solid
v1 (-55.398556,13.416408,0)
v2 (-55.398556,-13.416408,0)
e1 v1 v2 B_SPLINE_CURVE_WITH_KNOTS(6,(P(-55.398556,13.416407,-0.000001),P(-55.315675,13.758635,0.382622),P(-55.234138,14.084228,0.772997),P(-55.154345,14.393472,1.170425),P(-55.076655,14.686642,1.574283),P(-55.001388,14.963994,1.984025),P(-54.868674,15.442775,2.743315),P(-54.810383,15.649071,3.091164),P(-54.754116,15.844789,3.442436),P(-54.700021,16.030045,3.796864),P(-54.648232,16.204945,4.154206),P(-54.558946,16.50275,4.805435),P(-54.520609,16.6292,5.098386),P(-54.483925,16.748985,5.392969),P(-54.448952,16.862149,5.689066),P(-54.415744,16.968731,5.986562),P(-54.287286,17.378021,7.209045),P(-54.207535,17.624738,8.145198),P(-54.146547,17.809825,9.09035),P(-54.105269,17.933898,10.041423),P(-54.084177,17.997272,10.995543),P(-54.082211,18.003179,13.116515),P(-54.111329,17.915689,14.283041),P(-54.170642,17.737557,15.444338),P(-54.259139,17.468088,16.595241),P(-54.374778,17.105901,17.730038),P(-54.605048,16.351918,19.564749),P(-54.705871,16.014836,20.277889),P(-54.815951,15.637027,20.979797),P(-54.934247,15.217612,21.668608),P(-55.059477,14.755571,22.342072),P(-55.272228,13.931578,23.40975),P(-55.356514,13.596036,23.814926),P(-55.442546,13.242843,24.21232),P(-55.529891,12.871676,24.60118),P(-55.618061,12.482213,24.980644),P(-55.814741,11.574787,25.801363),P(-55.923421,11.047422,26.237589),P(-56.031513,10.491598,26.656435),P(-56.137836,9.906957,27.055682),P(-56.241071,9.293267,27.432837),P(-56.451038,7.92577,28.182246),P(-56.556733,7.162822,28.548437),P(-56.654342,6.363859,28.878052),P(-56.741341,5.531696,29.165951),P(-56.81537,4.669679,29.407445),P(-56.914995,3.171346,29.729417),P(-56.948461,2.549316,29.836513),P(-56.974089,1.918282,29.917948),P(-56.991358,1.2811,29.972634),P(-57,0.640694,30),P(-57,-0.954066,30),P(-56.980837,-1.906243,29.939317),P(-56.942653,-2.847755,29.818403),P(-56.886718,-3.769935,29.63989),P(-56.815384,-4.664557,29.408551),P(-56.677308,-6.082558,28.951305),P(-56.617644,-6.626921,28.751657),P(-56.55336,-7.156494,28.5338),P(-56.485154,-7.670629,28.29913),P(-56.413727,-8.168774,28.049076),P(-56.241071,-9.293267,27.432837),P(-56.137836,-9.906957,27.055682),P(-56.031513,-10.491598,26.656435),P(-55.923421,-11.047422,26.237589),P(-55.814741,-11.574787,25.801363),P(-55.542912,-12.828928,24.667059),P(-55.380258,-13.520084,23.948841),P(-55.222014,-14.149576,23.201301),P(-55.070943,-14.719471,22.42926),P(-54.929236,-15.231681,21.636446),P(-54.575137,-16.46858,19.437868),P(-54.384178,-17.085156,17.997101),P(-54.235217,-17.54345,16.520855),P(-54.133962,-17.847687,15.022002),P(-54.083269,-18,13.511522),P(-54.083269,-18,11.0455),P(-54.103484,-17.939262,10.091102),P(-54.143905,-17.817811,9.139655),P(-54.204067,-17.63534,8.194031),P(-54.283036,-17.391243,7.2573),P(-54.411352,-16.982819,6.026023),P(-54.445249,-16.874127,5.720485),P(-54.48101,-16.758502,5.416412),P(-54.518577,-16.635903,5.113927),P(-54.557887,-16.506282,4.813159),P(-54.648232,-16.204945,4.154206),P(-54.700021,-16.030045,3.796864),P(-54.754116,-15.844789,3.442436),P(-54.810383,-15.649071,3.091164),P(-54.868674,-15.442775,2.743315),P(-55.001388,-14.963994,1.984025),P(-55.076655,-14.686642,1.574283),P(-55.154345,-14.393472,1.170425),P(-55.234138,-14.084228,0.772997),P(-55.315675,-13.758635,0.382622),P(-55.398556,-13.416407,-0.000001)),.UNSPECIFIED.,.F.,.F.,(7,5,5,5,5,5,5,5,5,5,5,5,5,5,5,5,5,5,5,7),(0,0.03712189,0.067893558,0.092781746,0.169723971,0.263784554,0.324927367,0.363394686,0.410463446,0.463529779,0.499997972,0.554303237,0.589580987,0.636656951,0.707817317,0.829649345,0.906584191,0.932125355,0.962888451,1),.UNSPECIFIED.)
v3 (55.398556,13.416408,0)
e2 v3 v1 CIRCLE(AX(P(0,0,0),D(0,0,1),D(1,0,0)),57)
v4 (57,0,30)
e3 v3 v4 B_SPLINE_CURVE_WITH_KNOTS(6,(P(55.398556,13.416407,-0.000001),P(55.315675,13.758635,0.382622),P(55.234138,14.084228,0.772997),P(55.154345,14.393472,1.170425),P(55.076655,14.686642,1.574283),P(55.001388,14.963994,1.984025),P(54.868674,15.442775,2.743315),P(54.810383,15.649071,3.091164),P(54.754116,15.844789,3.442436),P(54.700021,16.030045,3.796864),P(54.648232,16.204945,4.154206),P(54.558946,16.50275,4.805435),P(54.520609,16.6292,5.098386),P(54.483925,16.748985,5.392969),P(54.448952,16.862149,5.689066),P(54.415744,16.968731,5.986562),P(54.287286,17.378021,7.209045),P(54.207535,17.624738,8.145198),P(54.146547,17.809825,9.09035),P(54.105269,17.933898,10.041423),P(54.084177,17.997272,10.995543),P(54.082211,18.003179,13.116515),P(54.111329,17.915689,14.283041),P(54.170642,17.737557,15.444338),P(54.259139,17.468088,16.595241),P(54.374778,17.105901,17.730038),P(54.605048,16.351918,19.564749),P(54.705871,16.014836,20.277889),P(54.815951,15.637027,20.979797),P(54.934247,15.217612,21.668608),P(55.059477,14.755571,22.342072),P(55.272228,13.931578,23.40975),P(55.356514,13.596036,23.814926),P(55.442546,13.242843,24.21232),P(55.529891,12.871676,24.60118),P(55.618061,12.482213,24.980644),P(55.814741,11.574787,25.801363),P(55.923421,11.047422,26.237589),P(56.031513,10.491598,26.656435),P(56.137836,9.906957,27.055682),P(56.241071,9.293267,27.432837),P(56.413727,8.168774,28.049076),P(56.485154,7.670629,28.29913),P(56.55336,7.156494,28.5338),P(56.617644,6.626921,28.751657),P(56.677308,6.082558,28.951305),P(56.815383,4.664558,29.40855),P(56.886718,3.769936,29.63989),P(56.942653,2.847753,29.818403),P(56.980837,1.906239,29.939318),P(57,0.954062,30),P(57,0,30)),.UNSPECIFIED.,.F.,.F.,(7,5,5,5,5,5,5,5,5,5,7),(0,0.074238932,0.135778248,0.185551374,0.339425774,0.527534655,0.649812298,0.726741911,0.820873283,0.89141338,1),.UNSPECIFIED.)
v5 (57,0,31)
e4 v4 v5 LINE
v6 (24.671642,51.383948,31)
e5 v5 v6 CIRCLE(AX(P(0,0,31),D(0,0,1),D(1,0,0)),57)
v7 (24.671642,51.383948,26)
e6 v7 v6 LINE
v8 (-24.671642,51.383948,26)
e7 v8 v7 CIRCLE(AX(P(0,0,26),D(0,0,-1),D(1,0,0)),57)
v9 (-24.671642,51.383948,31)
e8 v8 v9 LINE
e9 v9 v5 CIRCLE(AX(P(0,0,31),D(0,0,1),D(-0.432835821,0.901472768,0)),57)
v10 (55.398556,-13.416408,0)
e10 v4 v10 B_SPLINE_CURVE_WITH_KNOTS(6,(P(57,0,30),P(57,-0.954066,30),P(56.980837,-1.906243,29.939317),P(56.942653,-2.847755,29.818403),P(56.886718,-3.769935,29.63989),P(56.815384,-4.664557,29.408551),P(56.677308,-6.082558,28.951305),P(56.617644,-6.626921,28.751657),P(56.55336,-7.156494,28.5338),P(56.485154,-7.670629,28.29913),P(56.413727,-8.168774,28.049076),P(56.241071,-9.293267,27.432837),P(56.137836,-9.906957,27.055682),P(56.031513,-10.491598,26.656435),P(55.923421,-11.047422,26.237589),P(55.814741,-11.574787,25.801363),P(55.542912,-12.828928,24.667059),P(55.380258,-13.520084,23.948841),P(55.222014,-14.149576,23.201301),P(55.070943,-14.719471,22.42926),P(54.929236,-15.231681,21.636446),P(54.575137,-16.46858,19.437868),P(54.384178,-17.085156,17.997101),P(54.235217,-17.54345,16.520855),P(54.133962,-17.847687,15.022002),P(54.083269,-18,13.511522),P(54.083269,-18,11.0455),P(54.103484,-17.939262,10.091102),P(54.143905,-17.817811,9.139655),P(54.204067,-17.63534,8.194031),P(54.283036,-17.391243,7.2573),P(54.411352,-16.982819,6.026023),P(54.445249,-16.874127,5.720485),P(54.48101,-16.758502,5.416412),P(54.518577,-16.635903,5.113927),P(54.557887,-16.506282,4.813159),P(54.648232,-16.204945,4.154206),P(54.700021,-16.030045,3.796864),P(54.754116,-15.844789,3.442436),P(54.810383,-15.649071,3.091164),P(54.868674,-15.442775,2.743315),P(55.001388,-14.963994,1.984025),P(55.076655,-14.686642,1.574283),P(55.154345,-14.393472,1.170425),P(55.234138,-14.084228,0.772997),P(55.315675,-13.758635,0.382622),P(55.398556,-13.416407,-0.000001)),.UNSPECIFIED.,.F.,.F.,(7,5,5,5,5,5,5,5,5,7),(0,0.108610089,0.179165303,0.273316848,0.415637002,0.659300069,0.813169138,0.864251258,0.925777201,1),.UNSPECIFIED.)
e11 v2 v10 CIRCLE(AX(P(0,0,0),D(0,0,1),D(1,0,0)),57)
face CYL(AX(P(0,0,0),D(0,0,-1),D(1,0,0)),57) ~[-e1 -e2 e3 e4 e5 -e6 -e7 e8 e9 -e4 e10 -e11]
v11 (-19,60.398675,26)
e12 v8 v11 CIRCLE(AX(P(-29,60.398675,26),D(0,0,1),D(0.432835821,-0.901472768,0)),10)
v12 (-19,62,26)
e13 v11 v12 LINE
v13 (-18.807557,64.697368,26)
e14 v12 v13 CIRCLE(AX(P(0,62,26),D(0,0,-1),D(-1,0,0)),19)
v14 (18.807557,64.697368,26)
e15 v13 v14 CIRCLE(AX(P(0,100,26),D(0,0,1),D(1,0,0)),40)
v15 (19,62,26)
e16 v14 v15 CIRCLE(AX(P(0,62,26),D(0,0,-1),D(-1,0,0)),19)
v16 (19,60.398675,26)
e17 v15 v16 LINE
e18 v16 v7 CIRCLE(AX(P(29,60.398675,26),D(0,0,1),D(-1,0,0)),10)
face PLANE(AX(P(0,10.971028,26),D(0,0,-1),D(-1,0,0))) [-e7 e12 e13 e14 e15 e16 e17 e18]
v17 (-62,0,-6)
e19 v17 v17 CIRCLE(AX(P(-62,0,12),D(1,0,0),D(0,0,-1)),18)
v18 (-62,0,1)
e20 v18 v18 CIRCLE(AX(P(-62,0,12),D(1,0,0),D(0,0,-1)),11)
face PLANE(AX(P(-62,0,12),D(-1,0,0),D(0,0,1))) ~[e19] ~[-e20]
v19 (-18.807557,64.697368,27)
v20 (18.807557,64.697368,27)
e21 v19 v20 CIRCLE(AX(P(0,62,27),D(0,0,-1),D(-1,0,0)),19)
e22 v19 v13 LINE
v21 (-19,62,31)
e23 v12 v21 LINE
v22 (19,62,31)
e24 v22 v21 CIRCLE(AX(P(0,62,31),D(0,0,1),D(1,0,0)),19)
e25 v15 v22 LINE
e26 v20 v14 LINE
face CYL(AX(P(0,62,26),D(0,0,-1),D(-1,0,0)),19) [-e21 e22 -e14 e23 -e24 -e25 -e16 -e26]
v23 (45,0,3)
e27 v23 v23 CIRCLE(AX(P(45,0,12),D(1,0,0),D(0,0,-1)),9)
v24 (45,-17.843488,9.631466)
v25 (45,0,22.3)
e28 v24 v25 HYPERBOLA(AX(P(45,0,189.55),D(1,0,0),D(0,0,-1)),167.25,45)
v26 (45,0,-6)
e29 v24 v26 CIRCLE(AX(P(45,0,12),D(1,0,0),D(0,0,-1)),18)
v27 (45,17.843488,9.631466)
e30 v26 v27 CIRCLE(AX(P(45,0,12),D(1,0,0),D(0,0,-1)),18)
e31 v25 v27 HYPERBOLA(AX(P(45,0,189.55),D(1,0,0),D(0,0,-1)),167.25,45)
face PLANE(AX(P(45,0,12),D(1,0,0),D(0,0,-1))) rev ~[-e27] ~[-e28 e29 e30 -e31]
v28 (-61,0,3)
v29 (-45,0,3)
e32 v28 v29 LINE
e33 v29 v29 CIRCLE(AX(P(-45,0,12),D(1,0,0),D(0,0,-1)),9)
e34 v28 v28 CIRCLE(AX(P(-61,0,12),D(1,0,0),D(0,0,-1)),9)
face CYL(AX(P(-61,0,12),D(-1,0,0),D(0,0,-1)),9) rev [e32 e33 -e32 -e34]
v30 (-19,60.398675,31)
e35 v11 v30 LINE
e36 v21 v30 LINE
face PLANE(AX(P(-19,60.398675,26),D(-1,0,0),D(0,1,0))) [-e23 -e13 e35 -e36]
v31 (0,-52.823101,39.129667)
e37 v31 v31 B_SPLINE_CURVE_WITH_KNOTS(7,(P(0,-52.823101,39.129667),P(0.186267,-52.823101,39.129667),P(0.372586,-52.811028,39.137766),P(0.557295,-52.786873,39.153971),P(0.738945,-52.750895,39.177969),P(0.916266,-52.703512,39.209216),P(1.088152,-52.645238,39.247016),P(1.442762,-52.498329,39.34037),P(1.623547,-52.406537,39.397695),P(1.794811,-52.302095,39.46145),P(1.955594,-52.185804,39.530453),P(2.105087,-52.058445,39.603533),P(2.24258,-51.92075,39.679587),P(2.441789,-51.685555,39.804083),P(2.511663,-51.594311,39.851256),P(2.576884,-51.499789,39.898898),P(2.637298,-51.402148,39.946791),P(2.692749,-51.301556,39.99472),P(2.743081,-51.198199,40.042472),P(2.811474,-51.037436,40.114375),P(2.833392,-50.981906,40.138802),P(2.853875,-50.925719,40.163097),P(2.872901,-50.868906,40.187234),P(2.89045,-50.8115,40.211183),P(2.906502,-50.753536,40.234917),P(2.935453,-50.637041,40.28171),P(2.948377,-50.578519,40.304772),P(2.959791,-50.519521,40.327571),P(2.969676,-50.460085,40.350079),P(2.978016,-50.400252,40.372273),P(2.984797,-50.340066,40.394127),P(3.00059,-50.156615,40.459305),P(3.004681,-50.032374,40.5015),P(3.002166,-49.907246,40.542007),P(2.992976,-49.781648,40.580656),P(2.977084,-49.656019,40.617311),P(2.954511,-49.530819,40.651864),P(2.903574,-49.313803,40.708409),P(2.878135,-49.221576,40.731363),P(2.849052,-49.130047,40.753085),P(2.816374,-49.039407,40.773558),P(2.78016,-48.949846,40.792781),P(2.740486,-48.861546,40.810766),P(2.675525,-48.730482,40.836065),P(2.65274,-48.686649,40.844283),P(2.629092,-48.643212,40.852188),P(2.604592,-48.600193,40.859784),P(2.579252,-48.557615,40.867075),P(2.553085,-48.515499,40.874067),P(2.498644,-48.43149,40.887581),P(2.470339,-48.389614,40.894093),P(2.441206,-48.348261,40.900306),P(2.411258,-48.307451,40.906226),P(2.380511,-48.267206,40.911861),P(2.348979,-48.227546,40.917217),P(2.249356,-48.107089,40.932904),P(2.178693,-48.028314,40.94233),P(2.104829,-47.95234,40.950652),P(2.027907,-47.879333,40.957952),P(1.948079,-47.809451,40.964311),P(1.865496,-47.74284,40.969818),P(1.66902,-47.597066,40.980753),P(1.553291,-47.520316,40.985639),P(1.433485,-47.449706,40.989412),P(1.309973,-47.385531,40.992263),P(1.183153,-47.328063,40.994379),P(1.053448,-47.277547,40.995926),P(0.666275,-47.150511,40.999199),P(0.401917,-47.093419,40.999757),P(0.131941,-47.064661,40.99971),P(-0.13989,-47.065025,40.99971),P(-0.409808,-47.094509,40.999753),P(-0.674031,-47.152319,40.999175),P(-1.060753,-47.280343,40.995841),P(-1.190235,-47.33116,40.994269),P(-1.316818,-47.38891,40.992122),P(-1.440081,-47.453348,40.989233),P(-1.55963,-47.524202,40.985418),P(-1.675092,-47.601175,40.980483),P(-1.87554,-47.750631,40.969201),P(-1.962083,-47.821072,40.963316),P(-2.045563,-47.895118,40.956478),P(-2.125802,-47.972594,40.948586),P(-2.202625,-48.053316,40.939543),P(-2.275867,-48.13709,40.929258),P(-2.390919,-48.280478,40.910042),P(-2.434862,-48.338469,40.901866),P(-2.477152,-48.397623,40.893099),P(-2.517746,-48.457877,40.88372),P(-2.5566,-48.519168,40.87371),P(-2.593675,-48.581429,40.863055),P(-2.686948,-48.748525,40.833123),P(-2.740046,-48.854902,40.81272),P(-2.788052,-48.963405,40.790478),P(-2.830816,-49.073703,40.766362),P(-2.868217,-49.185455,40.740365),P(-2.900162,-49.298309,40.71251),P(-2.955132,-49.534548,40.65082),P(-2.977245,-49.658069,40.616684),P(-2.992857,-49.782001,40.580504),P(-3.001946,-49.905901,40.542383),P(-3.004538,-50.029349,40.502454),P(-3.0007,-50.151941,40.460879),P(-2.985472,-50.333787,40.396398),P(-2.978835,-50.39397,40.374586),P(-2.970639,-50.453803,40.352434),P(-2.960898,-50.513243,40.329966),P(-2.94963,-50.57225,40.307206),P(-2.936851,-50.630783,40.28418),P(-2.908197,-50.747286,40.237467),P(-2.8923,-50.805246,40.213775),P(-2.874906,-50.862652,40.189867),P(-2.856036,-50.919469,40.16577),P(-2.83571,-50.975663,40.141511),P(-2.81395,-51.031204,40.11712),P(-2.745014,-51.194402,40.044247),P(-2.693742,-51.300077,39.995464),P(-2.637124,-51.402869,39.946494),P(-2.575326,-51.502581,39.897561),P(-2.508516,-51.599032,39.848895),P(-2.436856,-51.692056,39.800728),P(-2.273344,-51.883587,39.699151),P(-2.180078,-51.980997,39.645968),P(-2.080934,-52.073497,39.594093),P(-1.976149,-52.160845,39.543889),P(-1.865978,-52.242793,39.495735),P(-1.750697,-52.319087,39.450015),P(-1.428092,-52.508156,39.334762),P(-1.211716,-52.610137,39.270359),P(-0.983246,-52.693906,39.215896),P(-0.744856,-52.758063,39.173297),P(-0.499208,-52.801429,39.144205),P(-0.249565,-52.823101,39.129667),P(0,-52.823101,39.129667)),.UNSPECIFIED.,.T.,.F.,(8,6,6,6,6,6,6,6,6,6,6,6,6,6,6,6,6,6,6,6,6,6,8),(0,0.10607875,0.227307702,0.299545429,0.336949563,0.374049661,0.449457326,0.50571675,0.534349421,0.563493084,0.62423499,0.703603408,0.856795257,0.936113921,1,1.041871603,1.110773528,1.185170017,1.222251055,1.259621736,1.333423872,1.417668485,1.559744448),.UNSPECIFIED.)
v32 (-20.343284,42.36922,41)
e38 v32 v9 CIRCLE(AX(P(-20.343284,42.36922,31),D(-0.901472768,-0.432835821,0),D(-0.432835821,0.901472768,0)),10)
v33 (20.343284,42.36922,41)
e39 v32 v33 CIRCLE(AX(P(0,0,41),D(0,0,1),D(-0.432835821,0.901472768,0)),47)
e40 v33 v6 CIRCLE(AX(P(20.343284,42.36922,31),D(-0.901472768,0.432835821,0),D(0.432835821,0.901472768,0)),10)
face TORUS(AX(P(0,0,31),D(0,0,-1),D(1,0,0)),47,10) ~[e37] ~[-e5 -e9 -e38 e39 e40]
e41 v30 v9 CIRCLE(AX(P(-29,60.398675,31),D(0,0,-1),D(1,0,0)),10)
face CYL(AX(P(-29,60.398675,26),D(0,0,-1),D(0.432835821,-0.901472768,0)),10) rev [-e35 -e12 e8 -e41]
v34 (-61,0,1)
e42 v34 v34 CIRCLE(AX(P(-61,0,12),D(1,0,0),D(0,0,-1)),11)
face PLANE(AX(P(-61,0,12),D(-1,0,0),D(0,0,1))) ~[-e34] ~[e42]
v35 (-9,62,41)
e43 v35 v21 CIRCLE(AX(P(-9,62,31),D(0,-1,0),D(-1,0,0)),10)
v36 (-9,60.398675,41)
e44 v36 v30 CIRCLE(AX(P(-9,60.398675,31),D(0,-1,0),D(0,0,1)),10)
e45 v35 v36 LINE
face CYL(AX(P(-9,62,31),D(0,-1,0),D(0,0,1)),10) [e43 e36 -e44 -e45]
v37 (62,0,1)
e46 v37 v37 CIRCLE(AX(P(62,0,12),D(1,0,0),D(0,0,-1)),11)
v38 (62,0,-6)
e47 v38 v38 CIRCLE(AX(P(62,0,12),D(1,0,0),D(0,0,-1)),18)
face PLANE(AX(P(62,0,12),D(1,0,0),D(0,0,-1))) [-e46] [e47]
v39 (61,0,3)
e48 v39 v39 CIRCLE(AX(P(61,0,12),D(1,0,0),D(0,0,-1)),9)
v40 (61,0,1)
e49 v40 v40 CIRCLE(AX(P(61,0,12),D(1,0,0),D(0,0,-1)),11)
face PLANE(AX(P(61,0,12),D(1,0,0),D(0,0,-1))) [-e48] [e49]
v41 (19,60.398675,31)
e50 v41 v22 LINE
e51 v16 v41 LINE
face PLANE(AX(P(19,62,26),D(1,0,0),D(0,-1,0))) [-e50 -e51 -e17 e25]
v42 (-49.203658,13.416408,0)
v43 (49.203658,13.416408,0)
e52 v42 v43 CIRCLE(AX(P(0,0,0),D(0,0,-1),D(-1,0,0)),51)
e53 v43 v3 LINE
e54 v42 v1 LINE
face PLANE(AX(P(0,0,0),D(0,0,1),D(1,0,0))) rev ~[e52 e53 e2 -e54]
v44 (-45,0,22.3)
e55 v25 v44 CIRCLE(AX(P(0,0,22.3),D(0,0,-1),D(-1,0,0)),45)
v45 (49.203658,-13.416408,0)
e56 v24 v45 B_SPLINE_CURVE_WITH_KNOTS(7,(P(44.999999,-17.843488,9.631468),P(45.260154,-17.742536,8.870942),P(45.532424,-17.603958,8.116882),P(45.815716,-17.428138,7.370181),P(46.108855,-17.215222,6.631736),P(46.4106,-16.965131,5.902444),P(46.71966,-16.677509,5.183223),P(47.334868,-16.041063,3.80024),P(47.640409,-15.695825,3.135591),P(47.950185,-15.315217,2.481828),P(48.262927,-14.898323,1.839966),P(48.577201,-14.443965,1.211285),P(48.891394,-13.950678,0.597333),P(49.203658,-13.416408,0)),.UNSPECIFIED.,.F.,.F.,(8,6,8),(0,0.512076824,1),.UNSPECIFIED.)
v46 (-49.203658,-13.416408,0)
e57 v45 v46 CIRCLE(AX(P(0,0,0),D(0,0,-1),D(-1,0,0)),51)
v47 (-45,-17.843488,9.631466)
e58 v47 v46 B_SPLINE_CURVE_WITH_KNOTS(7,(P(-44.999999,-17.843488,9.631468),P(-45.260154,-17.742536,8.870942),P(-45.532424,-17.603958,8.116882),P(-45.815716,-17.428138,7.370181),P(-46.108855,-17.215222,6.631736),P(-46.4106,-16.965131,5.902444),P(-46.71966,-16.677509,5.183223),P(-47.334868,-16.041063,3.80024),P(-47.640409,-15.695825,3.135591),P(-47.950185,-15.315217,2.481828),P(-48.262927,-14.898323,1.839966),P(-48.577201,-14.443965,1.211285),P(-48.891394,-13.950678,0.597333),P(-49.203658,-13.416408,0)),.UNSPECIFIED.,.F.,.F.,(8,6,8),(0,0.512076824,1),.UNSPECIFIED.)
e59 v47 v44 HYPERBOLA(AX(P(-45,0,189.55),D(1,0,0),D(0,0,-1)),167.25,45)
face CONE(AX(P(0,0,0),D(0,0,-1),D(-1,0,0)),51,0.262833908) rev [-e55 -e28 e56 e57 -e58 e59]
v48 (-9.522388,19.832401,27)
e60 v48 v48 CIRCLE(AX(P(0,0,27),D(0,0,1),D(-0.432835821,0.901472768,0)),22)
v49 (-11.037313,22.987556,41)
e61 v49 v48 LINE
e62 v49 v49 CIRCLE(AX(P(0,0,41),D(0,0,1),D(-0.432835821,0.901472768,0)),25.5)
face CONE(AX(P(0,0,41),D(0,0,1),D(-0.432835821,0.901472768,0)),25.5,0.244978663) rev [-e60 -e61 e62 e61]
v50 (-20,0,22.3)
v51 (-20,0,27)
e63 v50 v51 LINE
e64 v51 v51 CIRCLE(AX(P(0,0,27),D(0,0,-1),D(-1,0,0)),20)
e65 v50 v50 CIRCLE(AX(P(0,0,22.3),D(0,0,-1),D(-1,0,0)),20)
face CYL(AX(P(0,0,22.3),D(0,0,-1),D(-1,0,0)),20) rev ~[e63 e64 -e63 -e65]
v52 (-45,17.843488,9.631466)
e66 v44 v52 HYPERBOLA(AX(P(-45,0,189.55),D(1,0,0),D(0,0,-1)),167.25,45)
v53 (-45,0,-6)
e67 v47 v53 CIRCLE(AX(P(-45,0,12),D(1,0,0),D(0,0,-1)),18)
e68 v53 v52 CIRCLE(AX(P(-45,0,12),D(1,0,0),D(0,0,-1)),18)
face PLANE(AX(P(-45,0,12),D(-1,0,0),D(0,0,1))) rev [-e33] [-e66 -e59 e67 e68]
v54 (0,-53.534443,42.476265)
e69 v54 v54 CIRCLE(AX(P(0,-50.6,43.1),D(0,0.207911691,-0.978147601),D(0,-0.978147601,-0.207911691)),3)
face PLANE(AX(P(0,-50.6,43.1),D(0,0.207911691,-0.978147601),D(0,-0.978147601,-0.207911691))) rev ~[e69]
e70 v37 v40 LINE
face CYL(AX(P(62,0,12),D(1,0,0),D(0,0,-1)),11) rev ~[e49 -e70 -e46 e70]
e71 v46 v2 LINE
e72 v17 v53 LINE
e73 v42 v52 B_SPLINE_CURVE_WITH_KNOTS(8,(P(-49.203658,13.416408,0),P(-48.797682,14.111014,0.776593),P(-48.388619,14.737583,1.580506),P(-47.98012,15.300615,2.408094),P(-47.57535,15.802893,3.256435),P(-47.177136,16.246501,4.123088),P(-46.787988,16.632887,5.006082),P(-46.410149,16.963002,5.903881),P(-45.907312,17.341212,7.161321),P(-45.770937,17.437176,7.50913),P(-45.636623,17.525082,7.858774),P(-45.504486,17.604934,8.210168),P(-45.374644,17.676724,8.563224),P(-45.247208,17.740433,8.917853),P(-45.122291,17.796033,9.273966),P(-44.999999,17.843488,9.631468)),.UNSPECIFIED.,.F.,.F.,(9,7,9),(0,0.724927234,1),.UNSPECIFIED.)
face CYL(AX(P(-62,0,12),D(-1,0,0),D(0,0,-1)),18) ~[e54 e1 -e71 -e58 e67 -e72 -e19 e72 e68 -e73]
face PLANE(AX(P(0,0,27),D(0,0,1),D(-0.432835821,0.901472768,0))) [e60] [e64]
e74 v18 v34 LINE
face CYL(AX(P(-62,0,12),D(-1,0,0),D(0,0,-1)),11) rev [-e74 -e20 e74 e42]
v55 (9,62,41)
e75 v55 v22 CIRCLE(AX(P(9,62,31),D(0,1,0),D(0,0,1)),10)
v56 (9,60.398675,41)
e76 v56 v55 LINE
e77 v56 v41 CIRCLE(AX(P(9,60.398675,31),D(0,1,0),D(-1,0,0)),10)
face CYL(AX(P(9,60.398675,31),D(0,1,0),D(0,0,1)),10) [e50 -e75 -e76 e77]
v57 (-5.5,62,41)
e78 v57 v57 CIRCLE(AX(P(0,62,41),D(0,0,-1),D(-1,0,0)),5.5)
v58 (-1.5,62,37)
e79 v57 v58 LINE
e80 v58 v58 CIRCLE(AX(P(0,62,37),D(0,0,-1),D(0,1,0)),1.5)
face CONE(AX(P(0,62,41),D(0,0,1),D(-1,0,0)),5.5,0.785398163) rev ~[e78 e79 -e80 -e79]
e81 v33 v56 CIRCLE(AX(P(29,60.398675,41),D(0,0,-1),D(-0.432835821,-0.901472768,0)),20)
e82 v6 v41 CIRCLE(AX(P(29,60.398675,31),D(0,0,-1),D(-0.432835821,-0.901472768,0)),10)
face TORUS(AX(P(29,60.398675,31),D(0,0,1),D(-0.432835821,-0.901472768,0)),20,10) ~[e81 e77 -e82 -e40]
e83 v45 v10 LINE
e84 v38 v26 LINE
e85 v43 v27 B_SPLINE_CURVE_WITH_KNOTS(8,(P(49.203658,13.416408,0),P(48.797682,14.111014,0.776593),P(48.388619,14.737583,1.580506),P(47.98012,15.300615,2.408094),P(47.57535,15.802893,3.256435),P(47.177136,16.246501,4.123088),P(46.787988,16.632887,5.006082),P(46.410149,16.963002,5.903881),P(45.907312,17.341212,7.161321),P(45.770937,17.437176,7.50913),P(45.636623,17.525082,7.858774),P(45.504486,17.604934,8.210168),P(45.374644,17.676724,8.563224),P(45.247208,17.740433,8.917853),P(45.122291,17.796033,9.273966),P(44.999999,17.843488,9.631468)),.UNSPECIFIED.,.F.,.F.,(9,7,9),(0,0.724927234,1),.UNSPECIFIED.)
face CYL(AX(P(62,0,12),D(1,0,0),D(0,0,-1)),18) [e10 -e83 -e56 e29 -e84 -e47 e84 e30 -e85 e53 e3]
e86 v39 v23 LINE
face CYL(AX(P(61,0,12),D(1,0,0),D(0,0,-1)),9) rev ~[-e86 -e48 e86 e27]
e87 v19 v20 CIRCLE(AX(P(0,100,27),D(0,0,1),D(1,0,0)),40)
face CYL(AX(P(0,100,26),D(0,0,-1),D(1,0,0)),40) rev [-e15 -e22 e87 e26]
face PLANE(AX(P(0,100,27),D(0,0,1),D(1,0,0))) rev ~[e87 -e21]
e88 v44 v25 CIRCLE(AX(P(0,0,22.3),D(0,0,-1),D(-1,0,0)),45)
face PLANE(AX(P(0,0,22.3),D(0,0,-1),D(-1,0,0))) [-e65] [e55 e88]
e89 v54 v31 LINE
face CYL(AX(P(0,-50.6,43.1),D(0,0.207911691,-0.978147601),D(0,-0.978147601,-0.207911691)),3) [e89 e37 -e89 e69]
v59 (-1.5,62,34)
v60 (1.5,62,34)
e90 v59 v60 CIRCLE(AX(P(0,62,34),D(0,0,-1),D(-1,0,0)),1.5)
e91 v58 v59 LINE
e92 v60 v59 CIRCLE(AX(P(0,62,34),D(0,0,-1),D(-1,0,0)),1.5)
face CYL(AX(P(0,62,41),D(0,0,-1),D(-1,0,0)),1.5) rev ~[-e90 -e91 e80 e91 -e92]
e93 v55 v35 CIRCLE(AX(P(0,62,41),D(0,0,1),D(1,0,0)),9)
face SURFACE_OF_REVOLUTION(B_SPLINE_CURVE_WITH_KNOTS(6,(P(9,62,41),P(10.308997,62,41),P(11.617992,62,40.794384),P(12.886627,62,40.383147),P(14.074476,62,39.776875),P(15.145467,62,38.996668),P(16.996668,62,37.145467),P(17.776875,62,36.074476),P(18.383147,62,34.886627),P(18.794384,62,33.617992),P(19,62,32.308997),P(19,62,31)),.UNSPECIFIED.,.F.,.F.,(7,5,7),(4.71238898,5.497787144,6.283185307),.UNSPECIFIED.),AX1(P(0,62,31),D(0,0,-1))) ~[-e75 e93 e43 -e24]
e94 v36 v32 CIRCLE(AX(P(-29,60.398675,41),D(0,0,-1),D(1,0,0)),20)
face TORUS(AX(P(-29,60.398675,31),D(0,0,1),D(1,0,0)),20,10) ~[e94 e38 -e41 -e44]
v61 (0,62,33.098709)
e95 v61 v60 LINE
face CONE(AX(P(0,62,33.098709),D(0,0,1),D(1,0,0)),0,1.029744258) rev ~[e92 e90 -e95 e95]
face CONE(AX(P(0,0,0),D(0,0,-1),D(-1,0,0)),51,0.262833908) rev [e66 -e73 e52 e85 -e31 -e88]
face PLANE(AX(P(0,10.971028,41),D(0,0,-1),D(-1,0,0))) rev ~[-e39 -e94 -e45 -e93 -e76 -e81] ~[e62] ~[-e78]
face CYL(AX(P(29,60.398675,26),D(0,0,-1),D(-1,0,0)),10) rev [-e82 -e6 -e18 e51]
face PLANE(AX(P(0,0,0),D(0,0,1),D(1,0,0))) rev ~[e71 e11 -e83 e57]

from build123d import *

# Parameters (mm, degrees)
SKETCH_1_R            = 57
EXTRUDE_1_DEPTH       = 41
EXTRUDE_START         = -15
EXTRUDE_3_DEPTH       = 15
SKETCH_5_R            = 40
CUT_EXTRUDE_1_DEPTH   = 1
SKETCH_6_R            = 51
SKETCH_7_R            = 45
SKETCH_8_R            = 20
CUT_EXTRUDE_2_DEPTH   = 102.524824572
F_3_0MM_1_D           = 3
F_3_0MM_1_DEPTH       = 7
F_3_0MM_1_CSINK_D     = 11
F_3_0MM_1_CSINK_ANGLE = 90
F_3_0MM_1_TIP         = 0.901290929
FILLET_2_R            = 10
EXTRUDE_START_2       = 62
SKETCH_14_R           = 18
EXTRUDE_4_DEPTH       = 17
SKETCH_15_R           = 11
CUT_EXTRUDE_3_DEPTH   = 1
CUT_EXTRUDE_4_REACH   = 150.883
SKETCH_16_R           = 9
SWEEP_1_PROFILE_R     = 3


with BuildPart() as part:
    # 草图1 → 凸台-拉伸1 (new body)
    with BuildSketch(Plane.XY):
        Circle(SKETCH_1_R)
    extrude(amount=EXTRUDE_1_DEPTH)

    # 草图4 → 凸台-拉伸3 (add)
    with BuildSketch(Plane.XY.offset(41).offset(EXTRUDE_START)):
        with BuildLine():
            Line((19, 62), (19, 60.398675482))
            ThreePointArc((19, 60.398675482), (20.53585261, 55.073432863), (24.671641791, 51.383947798))
            ThreePointArc((24.671641791, 51.383947798), (0, -57), (-24.671641791, 51.383947798))
            ThreePointArc((-24.671641791, 51.383947798), (-20.53585261, 55.073432863), (-19, 60.398675482))
            Line((-19, 60.398675482), (-19, 62))
            ThreePointArc((-19, 62), (0, 81), (19, 62))
        make_face()
    extrude(amount=EXTRUDE_3_DEPTH)

    # 草图5 → 切除-拉伸1 (cut)
    with BuildSketch(Plane.XY.offset(26)):
        with Locations((0, 100)):
            Circle(SKETCH_5_R)
    extrude(amount=CUT_EXTRUDE_1_DEPTH, mode=Mode.SUBTRACT)

    # 草图6 → 切除-放样1 section 0
    with BuildSketch(Plane(origin=(0, 0, 0), x_dir=(-1, 0, 0), z_dir=(0, 0, -1))):
        Circle(SKETCH_6_R)
    # 草图7 → 切除-放样1 section 1
    with BuildSketch(Plane(origin=(0, 0, 22.3), x_dir=(-1, 0, 0), z_dir=(0, 0, -1))):
        Circle(SKETCH_7_R)
    loft(mode=Mode.SUBTRACT)

    # 草图8 → 切除-拉伸2 (cut, through all)
    with BuildSketch(Plane(origin=(0, 0, 22.3), x_dir=(-1, 0, 0), z_dir=(0, 0, -1))):
        Circle(SKETCH_8_R)
    extrude(amount=-CUT_EXTRUDE_2_DEPTH, mode=Mode.SUBTRACT)

    # 草图10 → 切除-旋转1 (revolve, cut)
    with BuildSketch(Plane(origin=(0, 0, 0), x_dir=(0, 0, -1), z_dir=(1, 0, 0)), mode=Mode.PRIVATE) as cut_revolve_1_sk:
        Polygon((-41, 0), (-41, 25.5), (-27, 22), (-27, 0), align=None)
    revolve(cut_revolve_1_sk.sketch.rotate(Axis((0, 0, 0), (0, 0, 1)), 25.647663546), axis=Axis((0, 0, 0), (0, 0, 1)), mode=Mode.SUBTRACT)

    # Ø3.0mm 暗销孔1
    with Locations(Plane.XY.offset(41)):
        with Locations((0, 62)):
            CounterSinkHole(F_3_0MM_1_D / 2, F_3_0MM_1_CSINK_D / 2, depth=F_3_0MM_1_DEPTH, counter_sink_angle=F_3_0MM_1_CSINK_ANGLE)
            with Locations((0, 0, -(F_3_0MM_1_DEPTH + F_3_0MM_1_TIP / 2))):  # 118° drill point
                Cone(0, F_3_0MM_1_D / 2, F_3_0MM_1_TIP, mode=Mode.SUBTRACT)

    # 圆角2
    fillet_2_edges = [part.edges().sort_by_distance(p)[0] for p in [
        (-30.35388293, -48.245640125, 41),
        (20.53585261, 55.073432863, 41),
        (19, 61.199337741, 41),
        (0, 81, 41),
        (-19, 61.199337741, 41),
        (-20.53585261, 55.073432863, 41),
    ]]
    fillet(fillet_2_edges, radius=FILLET_2_R)

    # 草图14 → 凸台-拉伸4 (add)
    with BuildSketch(Plane(origin=(0, 0, 0), x_dir=(0, 0, -1), z_dir=(1, 0, 0)).offset(EXTRUDE_START_2)):
        with Locations((-12, 0)):
            Circle(SKETCH_14_R)
    extrude_4 = extrude(amount=-EXTRUDE_4_DEPTH)

    # 草图15 → 切除-拉伸3 (cut)
    with BuildSketch(Plane(origin=(62, 0, 0), x_dir=(0, 0, -1), z_dir=(1, 0, 0))):
        with Locations((-12, 0)):
            Circle(SKETCH_15_R)
    cut_extrude_3 = extrude(amount=-CUT_EXTRUDE_3_DEPTH, mode=Mode.SUBTRACT)

    # 草图16 → 切除-拉伸4 (cut, up to next)
    with BuildSketch(Plane(origin=(61, 0, 0), x_dir=(0, 0, -1), z_dir=(1, 0, 0)), mode=Mode.PRIVATE) as cut_extrude_4_sk1:
        with Locations((-12, 0)):
            Circle(SKETCH_16_R)
    cut_extrude_4_tool1 = extrude(cut_extrude_4_sk1.sketch, amount=-CUT_EXTRUDE_4_REACH, mode=Mode.PRIVATE) & part.part
    cut_extrude_4 = cut_extrude_4_tool1.solids().sort_by_distance((61, 0, 12))[0]
    add(cut_extrude_4, mode=Mode.SUBTRACT)

    # 镜向2: 凸台-拉伸4, 切除-拉伸3, 切除-拉伸4 across plane
    add(extrude_4.mirror(Plane(origin=(0, 0, 0), x_dir=(0, 0, 1), z_dir=(1, 0, 0))))
    add(cut_extrude_3.mirror(Plane(origin=(0, 0, 0), x_dir=(0, 0, 1), z_dir=(1, 0, 0))), mode=Mode.SUBTRACT)
    add(cut_extrude_4.mirror(Plane(origin=(0, 0, 0), x_dir=(0, 0, 1), z_dir=(1, 0, 0))), mode=Mode.SUBTRACT)

    # 扫描1: sweep along a path in 草图17
    with BuildLine(Plane(origin=(0, 0, 0), x_dir=(0, 0, -1), z_dir=(1, 0, 0))) as sweep_1_path:
        Line((-43.1, -50.6), (-35.054731359, -48.88992536))
    # 扫描1 profile (on start of the path) → 扫描1 (sweep)
    with BuildSketch(Plane(origin=(0, -50.6, 43.1), x_dir=(0, -0.9781476007338048, -0.20791169081776342), z_dir=(0, 0.20791169081776342, -0.9781476007338048))):
        Circle(SWEEP_1_PROFILE_R)
    sweep(path=sweep_1_path.line)


solid = part.part
